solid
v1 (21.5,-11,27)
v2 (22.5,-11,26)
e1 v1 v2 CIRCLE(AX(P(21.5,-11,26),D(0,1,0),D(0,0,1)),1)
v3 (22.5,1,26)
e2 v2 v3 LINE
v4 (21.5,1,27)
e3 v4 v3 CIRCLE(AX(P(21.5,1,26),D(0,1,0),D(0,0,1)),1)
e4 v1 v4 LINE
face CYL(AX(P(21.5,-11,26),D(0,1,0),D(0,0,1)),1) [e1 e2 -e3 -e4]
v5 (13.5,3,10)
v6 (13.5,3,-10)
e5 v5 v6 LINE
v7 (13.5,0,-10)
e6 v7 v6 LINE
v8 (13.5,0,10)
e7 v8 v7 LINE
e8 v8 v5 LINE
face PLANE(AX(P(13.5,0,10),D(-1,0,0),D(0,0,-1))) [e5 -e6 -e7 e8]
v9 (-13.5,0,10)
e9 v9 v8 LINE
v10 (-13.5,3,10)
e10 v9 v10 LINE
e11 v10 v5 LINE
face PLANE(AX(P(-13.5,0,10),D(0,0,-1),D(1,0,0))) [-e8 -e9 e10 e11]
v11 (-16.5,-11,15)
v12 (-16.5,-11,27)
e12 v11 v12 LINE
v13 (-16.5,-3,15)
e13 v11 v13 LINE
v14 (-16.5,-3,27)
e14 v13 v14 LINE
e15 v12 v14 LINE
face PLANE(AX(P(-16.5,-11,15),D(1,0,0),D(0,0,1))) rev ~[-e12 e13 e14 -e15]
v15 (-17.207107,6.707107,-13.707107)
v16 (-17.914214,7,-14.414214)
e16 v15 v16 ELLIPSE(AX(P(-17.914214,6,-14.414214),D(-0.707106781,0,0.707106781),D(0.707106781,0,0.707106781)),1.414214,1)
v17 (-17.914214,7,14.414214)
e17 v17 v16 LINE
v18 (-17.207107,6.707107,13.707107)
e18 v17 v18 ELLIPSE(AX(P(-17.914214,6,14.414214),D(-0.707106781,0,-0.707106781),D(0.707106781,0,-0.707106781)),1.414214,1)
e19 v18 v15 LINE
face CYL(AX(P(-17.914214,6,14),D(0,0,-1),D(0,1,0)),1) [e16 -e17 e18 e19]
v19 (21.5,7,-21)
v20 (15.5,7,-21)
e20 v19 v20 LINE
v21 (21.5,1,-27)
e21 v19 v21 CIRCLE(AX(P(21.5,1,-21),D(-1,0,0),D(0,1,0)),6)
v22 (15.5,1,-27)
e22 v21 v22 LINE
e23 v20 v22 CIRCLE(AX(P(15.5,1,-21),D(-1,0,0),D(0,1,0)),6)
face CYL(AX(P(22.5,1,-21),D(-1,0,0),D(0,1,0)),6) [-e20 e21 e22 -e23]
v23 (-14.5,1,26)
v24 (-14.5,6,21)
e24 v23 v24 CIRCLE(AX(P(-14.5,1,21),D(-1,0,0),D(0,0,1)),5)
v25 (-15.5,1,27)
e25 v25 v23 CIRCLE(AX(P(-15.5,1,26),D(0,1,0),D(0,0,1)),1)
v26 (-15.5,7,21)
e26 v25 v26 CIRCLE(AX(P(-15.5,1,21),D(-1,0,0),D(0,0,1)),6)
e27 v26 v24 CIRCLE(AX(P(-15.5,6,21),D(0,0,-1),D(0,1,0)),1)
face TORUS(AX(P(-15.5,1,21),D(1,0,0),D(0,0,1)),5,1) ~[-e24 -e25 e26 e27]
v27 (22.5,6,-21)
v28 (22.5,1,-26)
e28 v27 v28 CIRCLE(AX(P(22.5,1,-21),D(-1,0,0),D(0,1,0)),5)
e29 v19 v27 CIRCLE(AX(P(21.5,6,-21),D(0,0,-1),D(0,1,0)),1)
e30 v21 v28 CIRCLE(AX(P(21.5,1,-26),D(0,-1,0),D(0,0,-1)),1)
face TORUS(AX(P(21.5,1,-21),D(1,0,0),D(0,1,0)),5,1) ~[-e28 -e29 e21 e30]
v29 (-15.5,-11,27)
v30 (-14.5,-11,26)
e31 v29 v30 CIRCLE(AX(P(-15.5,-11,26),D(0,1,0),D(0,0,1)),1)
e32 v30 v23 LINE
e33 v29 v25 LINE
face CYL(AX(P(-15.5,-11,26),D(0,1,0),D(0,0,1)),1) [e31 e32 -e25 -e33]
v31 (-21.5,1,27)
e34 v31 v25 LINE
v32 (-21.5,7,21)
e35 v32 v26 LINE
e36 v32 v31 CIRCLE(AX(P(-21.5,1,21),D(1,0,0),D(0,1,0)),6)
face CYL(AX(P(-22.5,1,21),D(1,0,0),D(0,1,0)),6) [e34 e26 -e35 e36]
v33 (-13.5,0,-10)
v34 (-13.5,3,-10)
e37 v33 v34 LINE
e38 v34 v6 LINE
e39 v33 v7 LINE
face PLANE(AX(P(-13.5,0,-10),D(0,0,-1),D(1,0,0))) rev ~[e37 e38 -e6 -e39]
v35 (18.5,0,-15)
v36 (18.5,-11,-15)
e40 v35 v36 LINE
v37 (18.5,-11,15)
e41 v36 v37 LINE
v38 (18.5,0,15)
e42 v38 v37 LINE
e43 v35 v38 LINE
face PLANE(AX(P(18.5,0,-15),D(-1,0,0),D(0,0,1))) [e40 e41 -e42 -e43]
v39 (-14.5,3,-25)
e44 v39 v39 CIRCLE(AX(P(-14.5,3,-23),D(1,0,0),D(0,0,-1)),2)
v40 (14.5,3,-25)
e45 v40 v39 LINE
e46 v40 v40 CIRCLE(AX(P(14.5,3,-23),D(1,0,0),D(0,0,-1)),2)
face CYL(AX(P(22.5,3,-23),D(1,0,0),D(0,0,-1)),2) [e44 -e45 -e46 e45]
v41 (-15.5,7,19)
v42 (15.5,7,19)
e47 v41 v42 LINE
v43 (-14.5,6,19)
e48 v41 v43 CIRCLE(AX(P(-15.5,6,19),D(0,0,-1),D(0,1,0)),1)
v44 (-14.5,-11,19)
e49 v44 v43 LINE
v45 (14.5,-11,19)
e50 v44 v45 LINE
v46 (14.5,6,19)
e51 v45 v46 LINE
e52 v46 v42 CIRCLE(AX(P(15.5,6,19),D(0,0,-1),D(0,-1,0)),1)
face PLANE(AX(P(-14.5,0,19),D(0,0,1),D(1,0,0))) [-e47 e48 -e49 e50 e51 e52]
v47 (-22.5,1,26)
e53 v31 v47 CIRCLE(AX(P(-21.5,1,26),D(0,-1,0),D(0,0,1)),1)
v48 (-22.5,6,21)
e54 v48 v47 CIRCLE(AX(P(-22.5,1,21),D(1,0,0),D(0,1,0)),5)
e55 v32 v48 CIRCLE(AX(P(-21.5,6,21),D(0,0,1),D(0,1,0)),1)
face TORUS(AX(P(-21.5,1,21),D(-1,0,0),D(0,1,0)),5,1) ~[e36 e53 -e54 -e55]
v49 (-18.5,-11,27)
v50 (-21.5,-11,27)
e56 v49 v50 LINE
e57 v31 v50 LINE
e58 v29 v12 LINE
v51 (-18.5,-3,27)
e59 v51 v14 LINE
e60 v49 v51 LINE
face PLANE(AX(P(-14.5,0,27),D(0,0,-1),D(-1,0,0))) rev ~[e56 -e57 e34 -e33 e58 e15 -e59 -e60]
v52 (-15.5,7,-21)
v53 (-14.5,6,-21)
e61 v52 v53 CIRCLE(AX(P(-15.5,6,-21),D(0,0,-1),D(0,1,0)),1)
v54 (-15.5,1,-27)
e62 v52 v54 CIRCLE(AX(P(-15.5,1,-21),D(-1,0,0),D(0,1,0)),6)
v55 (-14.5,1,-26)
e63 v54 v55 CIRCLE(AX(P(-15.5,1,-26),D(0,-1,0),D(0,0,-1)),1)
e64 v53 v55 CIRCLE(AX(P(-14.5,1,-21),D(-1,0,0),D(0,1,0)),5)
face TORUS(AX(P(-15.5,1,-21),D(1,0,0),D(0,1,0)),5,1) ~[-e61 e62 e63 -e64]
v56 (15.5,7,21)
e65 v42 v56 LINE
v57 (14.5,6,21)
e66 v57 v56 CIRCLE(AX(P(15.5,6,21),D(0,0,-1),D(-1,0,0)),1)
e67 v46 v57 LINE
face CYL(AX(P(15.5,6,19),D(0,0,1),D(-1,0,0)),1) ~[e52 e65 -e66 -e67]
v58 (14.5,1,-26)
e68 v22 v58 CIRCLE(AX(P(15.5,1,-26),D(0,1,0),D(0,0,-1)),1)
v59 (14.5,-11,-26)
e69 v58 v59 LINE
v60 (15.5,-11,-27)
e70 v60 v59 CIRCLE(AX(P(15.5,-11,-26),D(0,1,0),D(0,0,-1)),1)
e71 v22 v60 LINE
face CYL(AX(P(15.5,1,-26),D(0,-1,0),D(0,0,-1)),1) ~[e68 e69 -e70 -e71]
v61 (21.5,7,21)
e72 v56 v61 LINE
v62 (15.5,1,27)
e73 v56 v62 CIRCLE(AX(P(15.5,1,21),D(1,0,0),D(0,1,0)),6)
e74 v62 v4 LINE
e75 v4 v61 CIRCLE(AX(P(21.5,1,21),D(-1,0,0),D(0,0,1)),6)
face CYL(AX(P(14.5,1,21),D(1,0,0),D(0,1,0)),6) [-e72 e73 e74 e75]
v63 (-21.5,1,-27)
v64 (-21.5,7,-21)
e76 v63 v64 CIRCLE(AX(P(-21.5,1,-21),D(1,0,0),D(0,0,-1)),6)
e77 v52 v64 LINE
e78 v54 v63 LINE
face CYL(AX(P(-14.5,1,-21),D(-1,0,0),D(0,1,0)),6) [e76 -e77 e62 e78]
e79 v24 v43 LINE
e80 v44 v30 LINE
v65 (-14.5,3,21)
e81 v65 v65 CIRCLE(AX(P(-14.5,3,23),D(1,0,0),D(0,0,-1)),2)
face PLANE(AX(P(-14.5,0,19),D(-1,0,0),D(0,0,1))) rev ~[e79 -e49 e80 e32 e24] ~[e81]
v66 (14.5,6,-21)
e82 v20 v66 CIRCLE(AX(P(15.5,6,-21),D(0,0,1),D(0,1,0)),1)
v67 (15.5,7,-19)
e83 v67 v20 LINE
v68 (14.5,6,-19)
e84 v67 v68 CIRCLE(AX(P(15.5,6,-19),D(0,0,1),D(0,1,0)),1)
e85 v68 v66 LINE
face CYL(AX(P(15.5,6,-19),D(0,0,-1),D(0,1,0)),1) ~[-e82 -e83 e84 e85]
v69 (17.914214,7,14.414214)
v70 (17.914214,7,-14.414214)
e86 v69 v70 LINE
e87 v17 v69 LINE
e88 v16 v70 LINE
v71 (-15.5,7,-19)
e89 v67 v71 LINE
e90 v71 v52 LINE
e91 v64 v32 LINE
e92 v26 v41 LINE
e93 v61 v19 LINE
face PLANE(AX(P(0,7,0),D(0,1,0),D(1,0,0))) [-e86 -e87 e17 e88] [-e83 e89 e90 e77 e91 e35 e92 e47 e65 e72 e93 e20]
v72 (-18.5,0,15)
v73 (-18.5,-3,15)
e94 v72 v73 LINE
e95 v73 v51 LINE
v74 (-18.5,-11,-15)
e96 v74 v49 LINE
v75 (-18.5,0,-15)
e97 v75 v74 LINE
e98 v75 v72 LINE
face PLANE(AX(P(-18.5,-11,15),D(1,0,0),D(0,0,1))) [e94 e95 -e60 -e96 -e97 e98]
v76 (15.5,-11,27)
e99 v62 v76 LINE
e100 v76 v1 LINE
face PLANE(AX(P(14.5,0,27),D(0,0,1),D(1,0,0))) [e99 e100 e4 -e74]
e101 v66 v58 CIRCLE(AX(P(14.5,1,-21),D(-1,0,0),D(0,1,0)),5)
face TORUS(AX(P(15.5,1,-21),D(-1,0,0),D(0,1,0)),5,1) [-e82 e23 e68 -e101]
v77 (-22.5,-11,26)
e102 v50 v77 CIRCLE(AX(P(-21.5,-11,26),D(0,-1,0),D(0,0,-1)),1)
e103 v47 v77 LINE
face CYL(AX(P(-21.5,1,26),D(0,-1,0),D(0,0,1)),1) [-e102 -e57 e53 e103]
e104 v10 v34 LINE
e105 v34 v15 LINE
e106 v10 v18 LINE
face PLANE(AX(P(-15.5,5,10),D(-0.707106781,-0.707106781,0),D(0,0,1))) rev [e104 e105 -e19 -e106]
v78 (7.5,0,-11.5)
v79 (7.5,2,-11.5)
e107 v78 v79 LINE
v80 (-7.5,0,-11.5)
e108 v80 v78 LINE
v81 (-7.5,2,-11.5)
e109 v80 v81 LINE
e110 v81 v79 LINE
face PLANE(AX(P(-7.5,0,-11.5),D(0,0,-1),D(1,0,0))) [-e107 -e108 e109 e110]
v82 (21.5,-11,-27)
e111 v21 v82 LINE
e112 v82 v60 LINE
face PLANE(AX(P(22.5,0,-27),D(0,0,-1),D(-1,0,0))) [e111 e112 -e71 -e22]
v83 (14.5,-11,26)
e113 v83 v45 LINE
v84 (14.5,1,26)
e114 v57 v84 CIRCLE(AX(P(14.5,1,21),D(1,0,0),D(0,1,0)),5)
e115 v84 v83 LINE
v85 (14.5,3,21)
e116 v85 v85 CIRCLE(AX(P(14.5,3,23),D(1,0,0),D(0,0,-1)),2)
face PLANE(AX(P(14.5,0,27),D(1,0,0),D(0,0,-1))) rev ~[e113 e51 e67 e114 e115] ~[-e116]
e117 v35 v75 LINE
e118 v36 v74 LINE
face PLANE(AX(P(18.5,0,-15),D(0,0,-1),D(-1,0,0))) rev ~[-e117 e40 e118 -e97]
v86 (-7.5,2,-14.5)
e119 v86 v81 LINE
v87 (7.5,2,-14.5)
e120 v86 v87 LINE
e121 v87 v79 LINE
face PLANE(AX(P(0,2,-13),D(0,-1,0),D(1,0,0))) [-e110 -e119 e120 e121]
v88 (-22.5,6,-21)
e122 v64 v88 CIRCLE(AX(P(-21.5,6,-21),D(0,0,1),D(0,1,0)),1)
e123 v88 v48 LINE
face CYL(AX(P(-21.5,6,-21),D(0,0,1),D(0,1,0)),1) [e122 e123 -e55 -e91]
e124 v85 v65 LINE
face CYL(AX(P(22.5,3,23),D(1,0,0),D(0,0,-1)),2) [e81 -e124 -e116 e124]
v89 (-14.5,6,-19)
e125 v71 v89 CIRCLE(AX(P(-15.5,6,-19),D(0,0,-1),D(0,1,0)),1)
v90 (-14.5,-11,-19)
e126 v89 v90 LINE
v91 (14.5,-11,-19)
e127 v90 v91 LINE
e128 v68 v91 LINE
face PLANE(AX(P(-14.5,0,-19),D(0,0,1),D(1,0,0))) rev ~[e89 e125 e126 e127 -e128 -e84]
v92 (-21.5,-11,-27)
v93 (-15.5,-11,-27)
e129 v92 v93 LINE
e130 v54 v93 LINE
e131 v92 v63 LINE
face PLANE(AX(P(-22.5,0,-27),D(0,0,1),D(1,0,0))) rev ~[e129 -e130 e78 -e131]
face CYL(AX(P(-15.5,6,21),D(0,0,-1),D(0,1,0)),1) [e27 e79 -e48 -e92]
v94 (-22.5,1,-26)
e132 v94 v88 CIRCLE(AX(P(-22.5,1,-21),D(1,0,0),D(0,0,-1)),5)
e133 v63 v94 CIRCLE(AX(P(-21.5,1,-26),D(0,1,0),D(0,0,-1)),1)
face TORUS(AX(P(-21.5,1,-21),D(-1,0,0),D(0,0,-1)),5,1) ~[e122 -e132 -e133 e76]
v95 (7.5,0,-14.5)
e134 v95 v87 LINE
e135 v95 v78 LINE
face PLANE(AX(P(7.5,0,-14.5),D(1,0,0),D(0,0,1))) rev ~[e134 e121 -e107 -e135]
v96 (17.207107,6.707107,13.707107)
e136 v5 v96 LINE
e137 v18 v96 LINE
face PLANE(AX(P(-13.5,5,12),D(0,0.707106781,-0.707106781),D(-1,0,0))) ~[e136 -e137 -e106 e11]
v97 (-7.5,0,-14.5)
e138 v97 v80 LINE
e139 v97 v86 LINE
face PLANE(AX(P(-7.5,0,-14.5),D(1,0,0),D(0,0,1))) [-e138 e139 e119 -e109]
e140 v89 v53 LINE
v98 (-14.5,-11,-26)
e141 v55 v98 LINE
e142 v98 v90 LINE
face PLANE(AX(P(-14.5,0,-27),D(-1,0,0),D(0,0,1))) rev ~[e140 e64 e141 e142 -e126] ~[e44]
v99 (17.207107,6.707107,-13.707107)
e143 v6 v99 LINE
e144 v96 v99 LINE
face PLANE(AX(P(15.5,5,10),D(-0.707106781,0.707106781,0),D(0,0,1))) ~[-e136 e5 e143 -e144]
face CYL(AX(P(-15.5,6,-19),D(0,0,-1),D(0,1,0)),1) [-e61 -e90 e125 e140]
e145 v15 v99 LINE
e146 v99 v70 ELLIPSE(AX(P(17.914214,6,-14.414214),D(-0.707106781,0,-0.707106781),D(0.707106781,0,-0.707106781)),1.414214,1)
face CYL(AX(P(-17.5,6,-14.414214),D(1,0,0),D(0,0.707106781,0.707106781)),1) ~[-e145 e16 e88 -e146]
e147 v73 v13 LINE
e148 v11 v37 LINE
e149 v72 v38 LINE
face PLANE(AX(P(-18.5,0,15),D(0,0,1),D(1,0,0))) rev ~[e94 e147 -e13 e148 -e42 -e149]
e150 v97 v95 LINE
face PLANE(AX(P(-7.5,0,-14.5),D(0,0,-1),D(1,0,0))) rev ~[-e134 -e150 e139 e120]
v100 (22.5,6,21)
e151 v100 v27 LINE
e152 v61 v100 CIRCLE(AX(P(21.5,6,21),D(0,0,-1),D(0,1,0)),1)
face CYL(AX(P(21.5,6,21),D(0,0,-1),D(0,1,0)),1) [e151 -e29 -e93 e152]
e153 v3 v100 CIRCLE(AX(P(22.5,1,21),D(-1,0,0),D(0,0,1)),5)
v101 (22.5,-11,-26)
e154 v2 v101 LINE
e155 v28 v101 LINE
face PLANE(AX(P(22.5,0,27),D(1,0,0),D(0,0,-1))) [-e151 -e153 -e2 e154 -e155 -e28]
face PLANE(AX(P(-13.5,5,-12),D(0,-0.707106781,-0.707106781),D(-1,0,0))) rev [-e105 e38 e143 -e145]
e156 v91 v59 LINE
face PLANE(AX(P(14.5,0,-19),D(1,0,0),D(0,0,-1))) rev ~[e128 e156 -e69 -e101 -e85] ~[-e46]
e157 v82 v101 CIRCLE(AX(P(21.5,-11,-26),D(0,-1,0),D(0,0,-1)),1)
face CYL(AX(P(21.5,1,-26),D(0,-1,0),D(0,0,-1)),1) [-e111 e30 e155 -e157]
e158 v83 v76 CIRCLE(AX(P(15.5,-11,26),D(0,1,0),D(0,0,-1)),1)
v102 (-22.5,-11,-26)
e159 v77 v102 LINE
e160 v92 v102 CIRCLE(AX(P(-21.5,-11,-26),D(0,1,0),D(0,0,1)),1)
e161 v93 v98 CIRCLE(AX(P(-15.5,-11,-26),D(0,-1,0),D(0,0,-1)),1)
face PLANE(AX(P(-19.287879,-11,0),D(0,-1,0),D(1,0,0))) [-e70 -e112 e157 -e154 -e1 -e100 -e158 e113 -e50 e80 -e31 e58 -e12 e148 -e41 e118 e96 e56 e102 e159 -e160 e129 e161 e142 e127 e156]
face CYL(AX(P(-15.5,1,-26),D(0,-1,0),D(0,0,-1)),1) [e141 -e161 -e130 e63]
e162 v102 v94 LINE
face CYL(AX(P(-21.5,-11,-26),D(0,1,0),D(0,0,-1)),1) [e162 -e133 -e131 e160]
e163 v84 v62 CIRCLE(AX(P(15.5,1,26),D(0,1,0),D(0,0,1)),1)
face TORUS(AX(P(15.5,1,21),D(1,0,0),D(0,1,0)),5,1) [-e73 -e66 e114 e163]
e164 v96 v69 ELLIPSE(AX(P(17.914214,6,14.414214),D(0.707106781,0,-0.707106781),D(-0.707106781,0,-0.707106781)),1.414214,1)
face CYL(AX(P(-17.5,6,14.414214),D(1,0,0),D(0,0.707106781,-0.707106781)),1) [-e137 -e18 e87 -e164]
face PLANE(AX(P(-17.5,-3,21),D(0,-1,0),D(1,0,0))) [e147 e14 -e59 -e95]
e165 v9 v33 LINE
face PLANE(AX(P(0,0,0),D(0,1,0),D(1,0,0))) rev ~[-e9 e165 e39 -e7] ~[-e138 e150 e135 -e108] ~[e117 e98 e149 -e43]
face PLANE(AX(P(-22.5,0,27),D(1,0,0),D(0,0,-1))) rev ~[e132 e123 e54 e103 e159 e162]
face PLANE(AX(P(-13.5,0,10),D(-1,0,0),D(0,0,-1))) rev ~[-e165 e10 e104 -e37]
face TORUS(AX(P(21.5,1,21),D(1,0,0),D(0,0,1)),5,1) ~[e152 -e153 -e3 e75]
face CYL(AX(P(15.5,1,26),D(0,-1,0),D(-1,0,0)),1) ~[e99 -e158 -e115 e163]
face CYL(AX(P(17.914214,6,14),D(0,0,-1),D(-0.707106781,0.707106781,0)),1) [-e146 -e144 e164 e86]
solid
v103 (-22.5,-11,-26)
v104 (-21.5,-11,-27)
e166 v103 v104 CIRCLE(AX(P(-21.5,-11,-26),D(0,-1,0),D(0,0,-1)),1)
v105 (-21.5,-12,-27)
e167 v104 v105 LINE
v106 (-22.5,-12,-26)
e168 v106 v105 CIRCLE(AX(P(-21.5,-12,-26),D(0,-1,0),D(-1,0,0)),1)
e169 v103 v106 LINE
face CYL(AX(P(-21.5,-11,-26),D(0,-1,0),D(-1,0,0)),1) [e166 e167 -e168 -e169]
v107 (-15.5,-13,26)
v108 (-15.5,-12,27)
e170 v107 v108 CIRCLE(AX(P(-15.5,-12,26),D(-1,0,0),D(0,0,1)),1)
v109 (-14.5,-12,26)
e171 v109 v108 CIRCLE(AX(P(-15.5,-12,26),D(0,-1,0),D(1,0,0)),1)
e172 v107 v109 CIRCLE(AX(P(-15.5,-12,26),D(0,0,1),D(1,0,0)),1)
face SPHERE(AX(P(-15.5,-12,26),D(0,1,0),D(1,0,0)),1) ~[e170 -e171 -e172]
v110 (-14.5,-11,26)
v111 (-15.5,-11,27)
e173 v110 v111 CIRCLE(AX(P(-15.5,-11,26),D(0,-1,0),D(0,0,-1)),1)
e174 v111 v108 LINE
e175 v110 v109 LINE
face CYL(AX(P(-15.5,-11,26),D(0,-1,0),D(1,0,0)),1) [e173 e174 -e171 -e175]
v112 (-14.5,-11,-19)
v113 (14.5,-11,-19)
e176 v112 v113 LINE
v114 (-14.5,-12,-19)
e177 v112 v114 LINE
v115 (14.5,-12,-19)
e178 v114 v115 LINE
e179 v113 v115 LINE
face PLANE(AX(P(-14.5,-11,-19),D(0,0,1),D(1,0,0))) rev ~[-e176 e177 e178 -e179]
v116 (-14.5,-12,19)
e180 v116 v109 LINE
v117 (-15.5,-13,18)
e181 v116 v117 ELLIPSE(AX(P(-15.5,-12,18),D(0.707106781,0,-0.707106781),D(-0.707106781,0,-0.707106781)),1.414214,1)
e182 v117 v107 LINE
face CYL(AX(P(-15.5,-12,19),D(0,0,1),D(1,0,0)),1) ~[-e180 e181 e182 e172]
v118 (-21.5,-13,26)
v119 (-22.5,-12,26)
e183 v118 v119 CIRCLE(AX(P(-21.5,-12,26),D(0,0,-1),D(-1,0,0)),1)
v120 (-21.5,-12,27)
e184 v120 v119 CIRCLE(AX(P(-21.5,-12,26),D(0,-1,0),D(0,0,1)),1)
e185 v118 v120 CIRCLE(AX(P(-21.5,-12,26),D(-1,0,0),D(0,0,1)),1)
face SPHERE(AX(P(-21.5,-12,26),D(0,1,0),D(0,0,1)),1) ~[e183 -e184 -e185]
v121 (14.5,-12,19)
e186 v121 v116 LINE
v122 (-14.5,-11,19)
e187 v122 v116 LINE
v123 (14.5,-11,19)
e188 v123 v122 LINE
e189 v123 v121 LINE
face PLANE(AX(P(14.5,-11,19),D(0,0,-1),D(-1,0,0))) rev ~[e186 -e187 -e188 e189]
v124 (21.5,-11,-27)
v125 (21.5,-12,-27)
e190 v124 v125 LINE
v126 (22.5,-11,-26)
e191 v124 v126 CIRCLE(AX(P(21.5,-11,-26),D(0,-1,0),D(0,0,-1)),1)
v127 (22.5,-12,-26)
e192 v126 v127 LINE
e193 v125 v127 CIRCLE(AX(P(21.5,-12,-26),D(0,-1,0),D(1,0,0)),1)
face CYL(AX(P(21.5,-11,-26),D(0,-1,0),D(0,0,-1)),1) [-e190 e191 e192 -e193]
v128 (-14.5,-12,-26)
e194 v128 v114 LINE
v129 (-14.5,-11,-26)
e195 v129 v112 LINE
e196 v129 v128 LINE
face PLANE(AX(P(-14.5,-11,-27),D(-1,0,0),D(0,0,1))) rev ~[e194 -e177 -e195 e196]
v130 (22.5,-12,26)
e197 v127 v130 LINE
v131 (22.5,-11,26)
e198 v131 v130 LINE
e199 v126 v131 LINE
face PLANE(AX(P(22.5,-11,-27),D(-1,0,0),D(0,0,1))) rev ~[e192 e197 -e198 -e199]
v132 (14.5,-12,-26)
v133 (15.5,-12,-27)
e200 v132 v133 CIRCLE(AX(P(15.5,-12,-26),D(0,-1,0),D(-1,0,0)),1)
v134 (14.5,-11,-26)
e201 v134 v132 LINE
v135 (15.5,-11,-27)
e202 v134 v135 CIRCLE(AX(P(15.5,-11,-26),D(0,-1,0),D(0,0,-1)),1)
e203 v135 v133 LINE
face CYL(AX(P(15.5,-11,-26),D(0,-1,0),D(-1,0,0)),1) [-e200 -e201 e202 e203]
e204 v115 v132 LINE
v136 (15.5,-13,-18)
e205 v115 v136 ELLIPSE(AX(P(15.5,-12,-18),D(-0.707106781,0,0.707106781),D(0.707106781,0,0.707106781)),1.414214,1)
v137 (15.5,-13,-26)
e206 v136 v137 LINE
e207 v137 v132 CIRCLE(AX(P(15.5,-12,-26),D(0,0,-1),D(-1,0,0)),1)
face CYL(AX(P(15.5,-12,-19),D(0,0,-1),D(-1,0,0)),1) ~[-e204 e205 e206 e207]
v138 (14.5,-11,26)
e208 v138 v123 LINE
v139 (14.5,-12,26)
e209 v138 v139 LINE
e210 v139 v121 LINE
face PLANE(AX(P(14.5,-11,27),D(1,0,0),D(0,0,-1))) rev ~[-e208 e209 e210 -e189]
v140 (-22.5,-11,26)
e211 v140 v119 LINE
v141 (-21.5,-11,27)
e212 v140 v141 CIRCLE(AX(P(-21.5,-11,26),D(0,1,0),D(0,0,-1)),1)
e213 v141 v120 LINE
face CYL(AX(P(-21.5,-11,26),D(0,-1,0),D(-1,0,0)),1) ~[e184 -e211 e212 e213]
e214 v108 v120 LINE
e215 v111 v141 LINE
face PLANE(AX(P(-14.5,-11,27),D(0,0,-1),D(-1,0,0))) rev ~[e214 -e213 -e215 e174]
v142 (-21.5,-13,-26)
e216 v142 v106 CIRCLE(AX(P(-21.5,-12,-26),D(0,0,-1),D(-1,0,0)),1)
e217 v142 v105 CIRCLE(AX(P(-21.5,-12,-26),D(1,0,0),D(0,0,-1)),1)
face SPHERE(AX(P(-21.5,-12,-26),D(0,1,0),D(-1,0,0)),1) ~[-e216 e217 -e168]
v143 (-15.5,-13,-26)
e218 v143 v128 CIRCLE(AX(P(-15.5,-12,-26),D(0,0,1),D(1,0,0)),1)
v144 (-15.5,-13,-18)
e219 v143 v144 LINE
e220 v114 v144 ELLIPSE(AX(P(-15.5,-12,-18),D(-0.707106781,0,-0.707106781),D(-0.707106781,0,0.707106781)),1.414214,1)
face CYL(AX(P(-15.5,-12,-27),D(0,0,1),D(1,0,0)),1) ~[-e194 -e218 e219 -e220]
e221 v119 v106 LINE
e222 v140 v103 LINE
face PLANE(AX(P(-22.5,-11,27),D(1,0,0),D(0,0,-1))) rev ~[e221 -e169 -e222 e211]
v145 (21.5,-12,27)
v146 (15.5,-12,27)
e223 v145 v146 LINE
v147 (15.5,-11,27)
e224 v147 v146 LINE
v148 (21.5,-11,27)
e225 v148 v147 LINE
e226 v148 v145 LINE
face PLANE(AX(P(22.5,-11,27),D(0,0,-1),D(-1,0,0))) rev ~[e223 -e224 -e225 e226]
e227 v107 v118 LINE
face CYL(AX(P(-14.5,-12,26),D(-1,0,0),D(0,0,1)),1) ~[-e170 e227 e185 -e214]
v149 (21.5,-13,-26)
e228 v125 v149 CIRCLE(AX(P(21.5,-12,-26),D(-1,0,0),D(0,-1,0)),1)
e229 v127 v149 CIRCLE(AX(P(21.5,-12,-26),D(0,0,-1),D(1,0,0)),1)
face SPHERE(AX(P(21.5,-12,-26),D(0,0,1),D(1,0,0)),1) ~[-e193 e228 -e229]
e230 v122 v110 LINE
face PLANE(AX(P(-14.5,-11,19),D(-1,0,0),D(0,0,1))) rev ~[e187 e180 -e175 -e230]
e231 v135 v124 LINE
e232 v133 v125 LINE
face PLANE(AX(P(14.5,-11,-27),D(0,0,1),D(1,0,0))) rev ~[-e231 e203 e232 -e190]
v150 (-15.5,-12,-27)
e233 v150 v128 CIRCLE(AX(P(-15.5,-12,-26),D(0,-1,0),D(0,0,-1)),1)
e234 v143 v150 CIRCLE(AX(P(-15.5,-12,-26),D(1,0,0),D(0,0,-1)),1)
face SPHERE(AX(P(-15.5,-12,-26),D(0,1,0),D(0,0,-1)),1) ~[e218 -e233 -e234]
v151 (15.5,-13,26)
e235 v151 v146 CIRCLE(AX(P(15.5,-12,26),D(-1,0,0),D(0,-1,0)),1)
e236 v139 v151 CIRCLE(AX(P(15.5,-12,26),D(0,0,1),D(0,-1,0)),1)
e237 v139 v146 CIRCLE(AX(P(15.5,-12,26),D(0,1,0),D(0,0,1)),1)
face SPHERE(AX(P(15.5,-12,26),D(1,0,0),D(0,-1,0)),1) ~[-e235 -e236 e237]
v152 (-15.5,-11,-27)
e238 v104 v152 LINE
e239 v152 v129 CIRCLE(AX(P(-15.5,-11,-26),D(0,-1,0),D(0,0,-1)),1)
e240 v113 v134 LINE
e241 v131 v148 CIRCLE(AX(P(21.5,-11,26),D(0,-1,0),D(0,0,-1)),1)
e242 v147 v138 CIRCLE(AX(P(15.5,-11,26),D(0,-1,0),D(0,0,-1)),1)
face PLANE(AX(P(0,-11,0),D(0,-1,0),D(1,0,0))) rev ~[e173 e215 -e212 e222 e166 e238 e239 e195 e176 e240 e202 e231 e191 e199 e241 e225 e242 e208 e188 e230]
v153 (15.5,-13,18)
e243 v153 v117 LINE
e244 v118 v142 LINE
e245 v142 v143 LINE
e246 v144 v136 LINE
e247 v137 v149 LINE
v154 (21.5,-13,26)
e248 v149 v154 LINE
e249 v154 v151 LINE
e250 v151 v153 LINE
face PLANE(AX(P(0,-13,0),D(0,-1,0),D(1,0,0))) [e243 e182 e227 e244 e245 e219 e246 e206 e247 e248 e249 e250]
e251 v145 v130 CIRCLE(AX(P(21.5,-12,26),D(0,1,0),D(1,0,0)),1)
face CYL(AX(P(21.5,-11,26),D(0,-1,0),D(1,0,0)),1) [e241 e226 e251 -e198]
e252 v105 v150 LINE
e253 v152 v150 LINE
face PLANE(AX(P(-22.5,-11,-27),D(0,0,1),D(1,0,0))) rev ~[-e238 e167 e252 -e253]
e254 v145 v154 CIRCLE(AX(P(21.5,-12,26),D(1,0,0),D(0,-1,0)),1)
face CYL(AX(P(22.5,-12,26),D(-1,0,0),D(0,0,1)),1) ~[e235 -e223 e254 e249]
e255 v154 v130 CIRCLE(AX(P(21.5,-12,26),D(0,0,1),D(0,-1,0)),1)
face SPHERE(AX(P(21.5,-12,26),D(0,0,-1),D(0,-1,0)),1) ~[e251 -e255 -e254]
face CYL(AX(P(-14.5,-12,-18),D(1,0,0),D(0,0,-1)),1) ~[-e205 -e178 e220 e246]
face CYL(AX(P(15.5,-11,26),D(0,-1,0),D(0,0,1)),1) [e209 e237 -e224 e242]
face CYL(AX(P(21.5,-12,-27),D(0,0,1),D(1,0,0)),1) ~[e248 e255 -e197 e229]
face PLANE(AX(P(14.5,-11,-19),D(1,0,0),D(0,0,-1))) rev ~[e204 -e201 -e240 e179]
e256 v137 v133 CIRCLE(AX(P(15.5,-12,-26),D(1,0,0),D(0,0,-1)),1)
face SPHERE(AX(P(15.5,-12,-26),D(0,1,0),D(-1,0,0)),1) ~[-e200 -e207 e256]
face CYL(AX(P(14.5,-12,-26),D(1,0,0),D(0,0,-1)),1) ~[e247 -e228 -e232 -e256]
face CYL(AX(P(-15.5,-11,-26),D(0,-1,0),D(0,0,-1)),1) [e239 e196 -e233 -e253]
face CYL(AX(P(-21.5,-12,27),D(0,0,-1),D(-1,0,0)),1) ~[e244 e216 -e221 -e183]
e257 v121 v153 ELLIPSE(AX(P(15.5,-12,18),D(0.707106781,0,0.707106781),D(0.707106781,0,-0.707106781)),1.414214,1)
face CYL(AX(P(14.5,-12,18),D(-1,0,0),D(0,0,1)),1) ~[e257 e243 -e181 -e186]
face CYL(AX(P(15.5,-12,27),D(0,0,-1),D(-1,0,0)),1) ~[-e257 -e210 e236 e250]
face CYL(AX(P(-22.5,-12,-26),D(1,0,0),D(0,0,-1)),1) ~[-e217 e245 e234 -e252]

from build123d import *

# Parameters (mm, degrees)
SKETCH1_W           = 27
SKETCH1_H           = 20
OLED_FACE_DEPTH     = 7
OLED_INDENT_SIZE    = 4
SKETCH4_W           = 15
SKETCH4_H           = 3
CUT_EXTRUDE1_DEPTH  = 2
FILLET3_R           = 6
BOSS_EXTRUDE4_REACH = 47
SKETCH5_R           = 2
SKETCH6_W           = 29
SKETCH6_H           = 4
BOSS_EXTRUDE7_DEPTH = 11
OLED_BOTTOM_DEPTH   = 2
SKETCH9_W           = 2
SKETCH9_H           = 12
CUT_EXTRUDE2_DEPTH  = 8
FILLET4_R           = 1
FILLET5_R           = 1
FILLET6_R           = 1


with BuildPart() as part:
    # Sketch1 → OLED_Face (new body)
    with BuildSketch(Plane(origin=(0, 0, 0), x_dir=(1, 0, 0), z_dir=(0, 1, 0))):
        Polygon((14.5, 19), (-14.5, 19), (-14.5, 27), (-22.5, 27), (-22.5, -27), (-14.5, -27), (-14.5, -19), (14.5, -19), (14.5, -27), (22.5, -27), (22.5, 27), (14.5, 27), align=None)
        Rectangle(SKETCH1_W, SKETCH1_H, mode=Mode.SUBTRACT)
    extrude(amount=OLED_FACE_DEPTH)

    # OLED_Indent
    oled_indent_edges = [part.edges().sort_by_distance(p)[0] for p in [
        (0, 7, -10),
        (13.5, 7, 0),
        (0, 7, 10),
        (-13.5, 7, 0),
    ]]
    chamfer(oled_indent_edges, length=OLED_INDENT_SIZE)

    # Sketch4 → Cut-Extrude1 (cut)
    with BuildSketch(Plane.XZ):
        with Locations((0, -13)):
            Rectangle(SKETCH4_W, SKETCH4_H)
    extrude(amount=-CUT_EXTRUDE1_DEPTH, mode=Mode.SUBTRACT)

    # Fillet3
    fillet3_edges = [part.edges().sort_by_distance(p)[0] for p in [
        (-18.5, 7, -27),
        (18.5, 7, -27),
        (-18.5, 7, 27),
        (18.5, 7, 27),
    ]]
    fillet(fillet3_edges, radius=FILLET3_R)

    # Sketch5 → Boss-Extrude4 (add, up to next)
    with BuildSketch(Plane(origin=(22.5, 0, 0), x_dir=(0, 0, -1), z_dir=(1, 0, 0)), mode=Mode.PRIVATE) as boss_extrude4_sk1:
        with Locations((-23, 3)):
            Circle(SKETCH5_R)
    boss_extrude4_tool1 = extrude(boss_extrude4_sk1.sketch, amount=-BOSS_EXTRUDE4_REACH, mode=Mode.PRIVATE) - part.part
    add(boss_extrude4_tool1.solids().sort_by_distance((22.5, 3, 23))[0])
    # Sketch5 → Boss-Extrude4 (add, up to next)
    with BuildSketch(Plane(origin=(22.5, 0, 0), x_dir=(0, 0, -1), z_dir=(1, 0, 0)), mode=Mode.PRIVATE) as boss_extrude4_sk2:
        with Locations((23, 3)):
            Circle(SKETCH5_R)
    boss_extrude4_tool2 = extrude(boss_extrude4_sk2.sketch, amount=-BOSS_EXTRUDE4_REACH, mode=Mode.PRIVATE) - part.part
    add(boss_extrude4_tool2.solids().sort_by_distance((22.5, 3, -23))[0])

    # Sketch6 → Boss-Extrude7 (add)
    with BuildSketch(Plane.XZ):
        Polygon((-14.5, 19), (-14.5, 27), (-22.5, 27), (-22.5, -27), (-14.5, -27), (-14.5, -19), (-14.5, -15), (-18.5, -15), (-18.5, 15), (-14.5, 15), align=None)
        Polygon((14.5, -15), (18.5, -15), (18.5, 15), (14.5, 15), (14.5, 19), (14.5, 27), (22.5, 27), (22.5, -27), (14.5, -27), (14.5, -19), align=None)
        with Locations((0, 17)):
            Rectangle(SKETCH6_W, SKETCH6_H)
        with Locations((0, -17)):
            Rectangle(SKETCH6_W, SKETCH6_H)
    extrude(amount=BOSS_EXTRUDE7_DEPTH)

    # Sketch9 → Cut-Extrude2 (cut)
    with BuildSketch(Plane.XZ.offset(11)):
        with Locations((-17.5, 21)):
            Rectangle(SKETCH9_W, SKETCH9_H)
    extrude(amount=-CUT_EXTRUDE2_DEPTH, mode=Mode.SUBTRACT)

    # Fillet5
    fillet5_edges = [part.edges().sort_by_distance(p)[0] for p in [
        (22.5, 7, 0),
        (-22.5, 7, 0),
        (14.5, -5, -27),
        (14.5, 5.242640687, -25.242640687),
        (22.5, -5, -27),
        (22.5, -5, 27),
        (22.5, 5.242640687, 25.242640687),
        (22.5, 5.242640687, -25.242640687),
        (-22.5, -5, -27),
        (-14.5, -5, -27),
        (-14.5, 5.242640687, -25.242640687),
        (-22.5, -5, 27),
        (-22.5, 5.242640687, 25.242640687),
        (-22.5, 5.242640687, -25.242640687),
        (14.5, -5, 27),
        (14.5, 5.242640687, 25.242640687),
        (-14.5, -5, 27),
        (-14.5, 5.242640687, 25.242640687),
        (-14.5, 7, -20),
        (14.5, 7, -20),
        (-14.5, 7, 20),
        (14.5, 7, 20),
    ]]
    fillet(fillet5_edges, radius=FILLET5_R)

    # Fillet6
    fillet6_edges = [part.edges().sort_by_distance(p)[0] for p in [
        (0, 7, -14),
        (-17.5, 7, 0),
        (17.5, 7, 0),
        (0, 7, 14),
    ]]
    fillet(fillet6_edges, radius=FILLET6_R)


with BuildPart() as body_2:
    # Sketch8 → OLED_Bottom (new body)
    with BuildSketch(Plane.XZ.offset(11)):
        Polygon((-22.5, 27), (-22.5, -27), (-14.5, -27), (-14.5, -19), (14.5, -19), (14.5, -27), (22.5, -27), (22.5, 27), (14.5, 27), (14.5, 19), (-14.5, 19), (-14.5, 27), align=None)
    extrude(amount=OLED_BOTTOM_DEPTH)

    # Fillet4
    fillet4_edges = [body_2.edges().sort_by_distance(p)[0] for p in [
        (22.5, -13, 0),
        (18.5, -13, 27),
        (-14.5, -12, -27),
        (14.5, -13, 23),
        (-22.5, -12, -27),
        (-22.5, -12, 27),
        (-14.5, -12, 27),
        (14.5, -12, 27),
        (22.5, -12, 27),
        (22.5, -12, -27),
        (14.5, -12, -27),
        (0, -13, 19),
        (-14.5, -13, 23),
        (-18.5, -13, 27),
        (-22.5, -13, 0),
        (-18.5, -13, -27),
        (-14.5, -13, -23),
        (0, -13, -19),
        (14.5, -13, -23),
        (18.5, -13, -27),
    ]]
    fillet(fillet4_edges, radius=FILLET4_R)


solid = Compound([part.part, body_2.part])
